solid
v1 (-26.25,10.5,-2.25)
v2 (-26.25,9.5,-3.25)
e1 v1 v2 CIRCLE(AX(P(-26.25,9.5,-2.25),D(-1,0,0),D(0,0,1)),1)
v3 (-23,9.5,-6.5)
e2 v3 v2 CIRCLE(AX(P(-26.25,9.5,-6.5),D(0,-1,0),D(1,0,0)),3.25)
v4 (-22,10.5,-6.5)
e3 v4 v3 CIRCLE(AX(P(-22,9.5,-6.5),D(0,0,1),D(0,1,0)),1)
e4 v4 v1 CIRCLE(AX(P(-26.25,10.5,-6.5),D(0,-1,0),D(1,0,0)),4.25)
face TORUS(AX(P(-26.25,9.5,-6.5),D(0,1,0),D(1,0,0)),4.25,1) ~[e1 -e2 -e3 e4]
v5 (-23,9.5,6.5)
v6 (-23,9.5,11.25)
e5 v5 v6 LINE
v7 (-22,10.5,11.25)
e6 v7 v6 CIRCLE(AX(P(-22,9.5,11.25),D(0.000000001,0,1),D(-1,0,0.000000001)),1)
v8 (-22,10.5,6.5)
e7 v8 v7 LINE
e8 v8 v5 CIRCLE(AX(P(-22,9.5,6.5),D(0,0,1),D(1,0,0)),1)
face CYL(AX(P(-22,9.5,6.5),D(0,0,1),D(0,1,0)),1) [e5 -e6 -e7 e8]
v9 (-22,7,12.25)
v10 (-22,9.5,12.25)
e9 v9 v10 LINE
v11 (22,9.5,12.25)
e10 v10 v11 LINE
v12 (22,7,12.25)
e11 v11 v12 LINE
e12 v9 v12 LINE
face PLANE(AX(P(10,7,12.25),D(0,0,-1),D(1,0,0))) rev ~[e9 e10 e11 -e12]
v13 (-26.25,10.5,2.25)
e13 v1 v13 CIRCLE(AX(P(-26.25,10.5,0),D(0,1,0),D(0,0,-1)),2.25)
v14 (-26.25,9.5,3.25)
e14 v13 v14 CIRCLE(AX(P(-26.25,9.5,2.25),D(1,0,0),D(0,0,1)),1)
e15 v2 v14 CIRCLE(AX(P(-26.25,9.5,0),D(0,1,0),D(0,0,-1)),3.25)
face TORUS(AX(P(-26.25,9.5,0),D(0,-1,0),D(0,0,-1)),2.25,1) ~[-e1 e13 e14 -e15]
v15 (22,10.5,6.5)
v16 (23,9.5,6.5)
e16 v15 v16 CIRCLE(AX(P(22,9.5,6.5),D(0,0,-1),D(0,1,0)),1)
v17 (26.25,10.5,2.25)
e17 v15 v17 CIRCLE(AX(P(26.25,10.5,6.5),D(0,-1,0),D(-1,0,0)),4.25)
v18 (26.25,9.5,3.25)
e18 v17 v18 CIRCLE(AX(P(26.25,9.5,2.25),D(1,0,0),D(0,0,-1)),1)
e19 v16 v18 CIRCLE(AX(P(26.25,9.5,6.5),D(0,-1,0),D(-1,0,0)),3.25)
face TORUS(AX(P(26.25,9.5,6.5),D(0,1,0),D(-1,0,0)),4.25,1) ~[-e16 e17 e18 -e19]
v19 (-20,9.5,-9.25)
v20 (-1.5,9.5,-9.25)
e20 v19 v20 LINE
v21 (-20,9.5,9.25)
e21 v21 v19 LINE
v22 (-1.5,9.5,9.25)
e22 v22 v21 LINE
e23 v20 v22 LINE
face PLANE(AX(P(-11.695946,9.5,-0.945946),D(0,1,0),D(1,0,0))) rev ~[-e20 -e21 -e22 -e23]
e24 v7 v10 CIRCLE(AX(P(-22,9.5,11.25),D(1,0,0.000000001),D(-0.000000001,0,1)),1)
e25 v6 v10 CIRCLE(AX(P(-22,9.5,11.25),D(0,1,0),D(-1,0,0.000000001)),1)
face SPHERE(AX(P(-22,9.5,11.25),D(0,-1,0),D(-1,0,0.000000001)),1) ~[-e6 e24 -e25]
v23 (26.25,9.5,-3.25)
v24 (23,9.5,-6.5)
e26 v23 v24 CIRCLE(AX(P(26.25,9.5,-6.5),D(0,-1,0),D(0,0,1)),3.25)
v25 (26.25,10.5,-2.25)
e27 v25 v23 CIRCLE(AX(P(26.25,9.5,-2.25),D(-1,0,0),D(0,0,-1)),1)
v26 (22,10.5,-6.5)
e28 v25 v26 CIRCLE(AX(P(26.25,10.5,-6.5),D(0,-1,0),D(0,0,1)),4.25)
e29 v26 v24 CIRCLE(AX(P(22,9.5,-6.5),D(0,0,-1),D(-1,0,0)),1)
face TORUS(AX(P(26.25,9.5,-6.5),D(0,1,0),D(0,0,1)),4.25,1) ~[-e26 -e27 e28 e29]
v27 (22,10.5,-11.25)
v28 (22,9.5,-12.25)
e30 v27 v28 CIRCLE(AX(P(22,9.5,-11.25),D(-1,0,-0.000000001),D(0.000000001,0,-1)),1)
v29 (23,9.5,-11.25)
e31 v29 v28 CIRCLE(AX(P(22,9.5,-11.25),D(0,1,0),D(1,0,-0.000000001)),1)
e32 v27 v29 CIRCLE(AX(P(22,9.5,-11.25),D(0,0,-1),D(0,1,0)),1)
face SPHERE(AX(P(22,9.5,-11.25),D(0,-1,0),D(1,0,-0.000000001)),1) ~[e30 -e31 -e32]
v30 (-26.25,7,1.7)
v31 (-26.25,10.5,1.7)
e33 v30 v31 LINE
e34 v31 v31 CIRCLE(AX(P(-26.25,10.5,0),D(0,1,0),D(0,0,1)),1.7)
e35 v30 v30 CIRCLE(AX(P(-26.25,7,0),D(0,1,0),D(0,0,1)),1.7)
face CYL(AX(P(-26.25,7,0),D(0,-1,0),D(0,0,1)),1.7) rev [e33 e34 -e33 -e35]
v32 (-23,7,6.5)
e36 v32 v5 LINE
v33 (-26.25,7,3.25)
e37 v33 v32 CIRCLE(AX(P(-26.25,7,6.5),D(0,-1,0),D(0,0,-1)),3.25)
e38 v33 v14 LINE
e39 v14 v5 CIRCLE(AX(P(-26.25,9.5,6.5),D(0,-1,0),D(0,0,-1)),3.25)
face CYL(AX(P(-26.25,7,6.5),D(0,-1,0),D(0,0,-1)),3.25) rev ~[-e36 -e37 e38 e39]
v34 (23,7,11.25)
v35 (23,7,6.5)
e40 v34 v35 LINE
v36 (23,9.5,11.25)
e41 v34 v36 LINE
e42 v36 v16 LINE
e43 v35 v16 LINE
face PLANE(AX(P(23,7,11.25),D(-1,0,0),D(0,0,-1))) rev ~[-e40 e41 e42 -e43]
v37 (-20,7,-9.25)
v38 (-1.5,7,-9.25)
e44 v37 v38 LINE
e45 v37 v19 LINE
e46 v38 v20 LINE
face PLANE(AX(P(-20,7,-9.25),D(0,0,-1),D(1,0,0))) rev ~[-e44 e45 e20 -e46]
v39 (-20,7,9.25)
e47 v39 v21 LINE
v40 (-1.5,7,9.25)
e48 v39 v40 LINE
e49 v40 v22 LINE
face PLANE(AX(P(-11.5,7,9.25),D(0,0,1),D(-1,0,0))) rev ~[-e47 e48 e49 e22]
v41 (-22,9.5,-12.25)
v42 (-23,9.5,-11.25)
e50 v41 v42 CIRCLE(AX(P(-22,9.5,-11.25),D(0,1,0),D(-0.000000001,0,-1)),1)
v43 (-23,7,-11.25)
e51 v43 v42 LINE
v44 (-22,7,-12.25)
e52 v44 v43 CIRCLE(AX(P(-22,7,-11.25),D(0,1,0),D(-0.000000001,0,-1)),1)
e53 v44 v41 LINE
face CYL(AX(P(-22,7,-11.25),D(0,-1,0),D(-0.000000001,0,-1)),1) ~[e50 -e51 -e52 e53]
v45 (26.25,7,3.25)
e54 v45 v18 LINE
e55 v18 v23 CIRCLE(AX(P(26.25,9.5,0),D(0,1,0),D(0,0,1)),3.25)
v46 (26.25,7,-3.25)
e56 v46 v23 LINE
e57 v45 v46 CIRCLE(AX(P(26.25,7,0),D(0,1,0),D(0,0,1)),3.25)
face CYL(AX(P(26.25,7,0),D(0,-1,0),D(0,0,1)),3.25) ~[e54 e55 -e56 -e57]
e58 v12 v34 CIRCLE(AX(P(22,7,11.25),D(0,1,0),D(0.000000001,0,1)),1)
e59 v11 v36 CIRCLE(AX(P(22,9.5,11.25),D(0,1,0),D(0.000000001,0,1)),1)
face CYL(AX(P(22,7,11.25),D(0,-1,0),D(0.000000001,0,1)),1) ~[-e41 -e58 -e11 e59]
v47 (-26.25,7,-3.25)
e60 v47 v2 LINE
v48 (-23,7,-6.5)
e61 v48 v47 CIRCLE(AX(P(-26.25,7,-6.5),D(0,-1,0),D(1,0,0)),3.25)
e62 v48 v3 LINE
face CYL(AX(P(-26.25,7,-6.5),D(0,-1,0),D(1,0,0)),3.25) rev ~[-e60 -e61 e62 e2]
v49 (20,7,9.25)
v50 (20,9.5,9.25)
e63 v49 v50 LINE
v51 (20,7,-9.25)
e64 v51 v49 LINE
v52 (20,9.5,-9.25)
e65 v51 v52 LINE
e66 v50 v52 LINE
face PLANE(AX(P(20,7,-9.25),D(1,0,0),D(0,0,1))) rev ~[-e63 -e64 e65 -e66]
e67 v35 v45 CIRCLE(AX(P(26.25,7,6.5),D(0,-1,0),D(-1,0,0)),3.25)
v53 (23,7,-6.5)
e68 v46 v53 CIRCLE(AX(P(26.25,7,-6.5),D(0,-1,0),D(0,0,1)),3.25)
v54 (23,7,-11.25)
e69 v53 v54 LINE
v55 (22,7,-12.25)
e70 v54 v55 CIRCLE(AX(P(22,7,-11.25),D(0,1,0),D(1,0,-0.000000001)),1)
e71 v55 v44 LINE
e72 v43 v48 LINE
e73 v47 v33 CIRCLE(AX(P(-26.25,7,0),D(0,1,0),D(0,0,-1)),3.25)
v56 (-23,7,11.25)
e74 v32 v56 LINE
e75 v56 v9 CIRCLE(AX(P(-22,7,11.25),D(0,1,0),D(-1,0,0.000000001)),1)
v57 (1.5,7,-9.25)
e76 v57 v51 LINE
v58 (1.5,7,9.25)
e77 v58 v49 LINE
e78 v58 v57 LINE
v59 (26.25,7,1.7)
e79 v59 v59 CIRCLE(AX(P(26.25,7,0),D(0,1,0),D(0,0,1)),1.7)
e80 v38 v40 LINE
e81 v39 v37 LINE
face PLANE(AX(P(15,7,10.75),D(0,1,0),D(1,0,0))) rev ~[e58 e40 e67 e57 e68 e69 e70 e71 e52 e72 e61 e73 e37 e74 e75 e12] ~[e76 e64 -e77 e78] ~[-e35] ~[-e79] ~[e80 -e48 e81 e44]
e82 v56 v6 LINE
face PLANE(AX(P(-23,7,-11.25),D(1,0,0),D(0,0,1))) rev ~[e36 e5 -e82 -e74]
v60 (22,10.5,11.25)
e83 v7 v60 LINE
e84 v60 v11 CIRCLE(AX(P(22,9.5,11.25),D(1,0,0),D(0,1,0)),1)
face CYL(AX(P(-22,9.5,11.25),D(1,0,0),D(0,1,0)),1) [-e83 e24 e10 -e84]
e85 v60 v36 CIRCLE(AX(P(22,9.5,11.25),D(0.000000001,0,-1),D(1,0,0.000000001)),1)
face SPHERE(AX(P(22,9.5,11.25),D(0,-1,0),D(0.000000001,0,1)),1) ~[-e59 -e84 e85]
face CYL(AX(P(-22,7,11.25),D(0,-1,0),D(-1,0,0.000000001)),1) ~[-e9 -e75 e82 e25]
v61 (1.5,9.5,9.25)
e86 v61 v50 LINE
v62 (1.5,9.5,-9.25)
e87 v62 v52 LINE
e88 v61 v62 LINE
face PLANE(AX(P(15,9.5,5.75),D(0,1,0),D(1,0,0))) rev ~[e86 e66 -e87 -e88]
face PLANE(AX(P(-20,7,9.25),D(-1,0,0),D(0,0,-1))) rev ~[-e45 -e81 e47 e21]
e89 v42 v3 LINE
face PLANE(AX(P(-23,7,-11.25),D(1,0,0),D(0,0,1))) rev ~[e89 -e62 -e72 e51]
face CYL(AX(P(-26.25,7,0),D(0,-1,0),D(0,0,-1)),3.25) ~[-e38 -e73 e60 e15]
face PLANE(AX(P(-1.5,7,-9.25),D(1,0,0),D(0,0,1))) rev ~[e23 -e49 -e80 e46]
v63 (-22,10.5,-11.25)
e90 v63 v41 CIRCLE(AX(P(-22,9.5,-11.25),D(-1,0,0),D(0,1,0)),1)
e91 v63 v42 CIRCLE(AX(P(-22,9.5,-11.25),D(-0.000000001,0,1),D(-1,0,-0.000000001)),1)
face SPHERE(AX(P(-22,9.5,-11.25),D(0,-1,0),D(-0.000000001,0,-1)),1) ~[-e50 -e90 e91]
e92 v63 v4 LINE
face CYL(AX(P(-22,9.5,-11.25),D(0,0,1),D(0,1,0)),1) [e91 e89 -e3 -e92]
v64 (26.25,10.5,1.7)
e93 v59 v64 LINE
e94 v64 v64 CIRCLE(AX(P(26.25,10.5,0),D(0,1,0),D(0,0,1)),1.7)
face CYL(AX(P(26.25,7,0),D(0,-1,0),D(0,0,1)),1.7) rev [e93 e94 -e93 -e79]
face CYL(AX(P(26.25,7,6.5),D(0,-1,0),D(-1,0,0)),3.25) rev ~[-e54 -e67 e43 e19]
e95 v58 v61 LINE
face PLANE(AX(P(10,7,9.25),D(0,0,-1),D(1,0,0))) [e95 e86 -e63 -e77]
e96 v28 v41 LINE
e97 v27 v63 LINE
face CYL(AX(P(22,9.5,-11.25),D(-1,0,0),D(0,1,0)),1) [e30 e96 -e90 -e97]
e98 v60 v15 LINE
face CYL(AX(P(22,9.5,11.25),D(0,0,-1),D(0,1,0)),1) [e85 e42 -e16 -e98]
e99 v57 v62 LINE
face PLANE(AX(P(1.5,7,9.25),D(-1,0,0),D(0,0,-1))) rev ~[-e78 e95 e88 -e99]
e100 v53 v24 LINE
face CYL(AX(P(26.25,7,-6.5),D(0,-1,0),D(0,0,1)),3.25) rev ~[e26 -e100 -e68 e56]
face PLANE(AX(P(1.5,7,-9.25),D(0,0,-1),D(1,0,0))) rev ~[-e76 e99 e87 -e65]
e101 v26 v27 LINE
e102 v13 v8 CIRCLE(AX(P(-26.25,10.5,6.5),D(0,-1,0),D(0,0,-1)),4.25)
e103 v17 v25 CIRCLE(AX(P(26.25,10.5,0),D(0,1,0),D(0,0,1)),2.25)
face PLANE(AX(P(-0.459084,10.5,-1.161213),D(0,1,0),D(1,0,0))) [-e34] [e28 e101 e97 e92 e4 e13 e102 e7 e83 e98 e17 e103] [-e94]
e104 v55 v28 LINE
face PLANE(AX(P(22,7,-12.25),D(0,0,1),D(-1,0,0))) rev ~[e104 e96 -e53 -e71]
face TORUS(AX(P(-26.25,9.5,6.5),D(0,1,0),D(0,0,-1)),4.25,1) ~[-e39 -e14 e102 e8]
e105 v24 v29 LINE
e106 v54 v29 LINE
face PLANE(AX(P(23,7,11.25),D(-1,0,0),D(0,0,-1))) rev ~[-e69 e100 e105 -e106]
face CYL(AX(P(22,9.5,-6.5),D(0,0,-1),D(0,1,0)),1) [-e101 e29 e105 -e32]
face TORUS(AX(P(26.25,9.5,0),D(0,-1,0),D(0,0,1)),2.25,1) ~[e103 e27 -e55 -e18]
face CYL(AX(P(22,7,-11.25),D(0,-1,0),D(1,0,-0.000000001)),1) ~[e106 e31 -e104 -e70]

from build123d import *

# Parameters (mm, degrees)
SKETCH_1_R      = 1.7
SKETCH_1_W      = 10
SKETCH_1_H      = 3
SKETCH_1_H_2    = 7
EXTRUDE_1_DEPTH = 1
EXTRUDE_START   = 1
SKETCH_1_3_R    = 1.7
EXTRUDE_2_DEPTH = 1
EXTRUDE_START_2 = 2
SKETCH_1_5_R    = 1.7
EXTRUDE_3_DEPTH = 3
EXTRUDE_START_3 = 7
SKETCH_1_7_R    = 1.7
SKETCH_1_7_W    = 10
SKETCH_1_7_H    = 3
EXTRUDE_4_DEPTH = 2.5
EXTRUDE_START_4 = 9.5
SKETCH_1_9_W    = 10
SKETCH_1_9_H    = 7
SKETCH_1_9_H_2  = 3
SKETCH_1_9_R    = 1.7
EXTRUDE_5_DEPTH = 1
FILLET_1_R      = 1


with BuildPart() as part:
    # Эскиз1 → Бобышка-Вытянуть1 (new body)
    # profile 1 of 9: a face of its own
    with BuildSketch(Plane(origin=(0, 0, 0), x_dir=(1, 0, 0), z_dir=(0, 1, 0))):
        with BuildLine():
            ThreePointArc((-26.25, -3.25), (-23.951902961, -4.201902961), (-23, -6.5))
            Line((-23, -6.5), (-23, 6.5))
            ThreePointArc((-23, 6.5), (-23.951902961, 4.201902961), (-26.25, 3.25))
            ThreePointArc((-26.25, 3.25), (-29.5, 0), (-26.25, -3.25))
        make_face()
        with Locations(Location((-26.25, 0, 0), (0, 0, 270))):
            Circle(SKETCH_1_R, mode=Mode.SUBTRACT)
    # profile 2 of 9: a face of its own
    with BuildSketch(Plane(origin=(0, 0, 0), x_dir=(1, 0, 0), z_dir=(0, 1, 0))):
        with BuildLine():
            Line((20, -12.25), (22, -12.25))
            ThreePointArc((22, -12.25), (22.707106781, -11.957106781), (23, -11.25))
            Line((23, -11.25), (23, -6.5))
            Line((23, -6.5), (23, 6.5))
            Line((23, 6.5), (23, 11.25))
            ThreePointArc((23, 11.25), (22.707106781, 11.957106781), (22, 12.25))
            Line((22, 12.25), (-22, 12.25))
            ThreePointArc((-22, 12.25), (-22.707106781, 11.957106781), (-23, 11.25))
            Line((-23, 11.25), (-23, 6.5))
            Line((-23, 6.5), (-23, -6.5))
            Line((-23, -6.5), (-23, -11.25))
            ThreePointArc((-23, -11.25), (-22.707106781, -11.957106781), (-22, -12.25))
            Line((-22, -12.25), (-11.5, -12.25))
            Line((-11.5, -12.25), (-11.5, -9.25))
            Line((-11.5, -9.25), (-20, -9.25))
            Line((-20, -9.25), (-20, 9.25))
            Line((-20, 9.25), (-1.5, 9.25))
            Line((-1.5, 9.25), (-1.5, -2.25))
            Line((-1.5, -2.25), (-1.5, -9.25))
            Line((-1.5, -9.25), (-1.5, -12.25))
            Line((-1.5, -12.25), (10, -12.25))
            Line((10, -12.25), (10, -9.25))
            Line((10, -9.25), (1.5, -9.25))
            Line((1.5, -9.25), (1.5, 9.25))
            Line((1.5, 9.25), (20, 9.25))
            Line((20, 9.25), (20, -2.25))
            Line((20, -2.25), (20, -9.25))
            Line((20, -9.25), (20, -12.25))
        make_face()
    # profile 3 of 9: a face of its own
    with BuildSketch(Plane(origin=(0, 0, 0), x_dir=(1, 0, 0), z_dir=(0, 1, 0))):
        with Locations((-6.5, -10.75)):
            Rectangle(SKETCH_1_W, SKETCH_1_H)
    # profile 4 of 9: a face of its own
    with BuildSketch(Plane(origin=(0, 0, 0), x_dir=(1, 0, 0), z_dir=(0, 1, 0))):
        with Locations((-6.5, -5.75)):
            Rectangle(SKETCH_1_W, SKETCH_1_H_2)
    # profile 5 of 9: a face of its own
    with BuildSketch(Plane(origin=(0, 0, 0), x_dir=(1, 0, 0), z_dir=(0, 1, 0))):
        Polygon((-20, -9.25), (-11.5, -9.25), (-11.5, -2.25), (-1.5, -2.25), (-1.5, 9.25), (-20, 9.25), align=None)
    # profile 6 of 9: a face of its own
    with BuildSketch(Plane(origin=(0, 0, 0), x_dir=(1, 0, 0), z_dir=(0, 1, 0))):
        Polygon((1.5, -9.25), (10, -9.25), (10, -2.25), (20, -2.25), (20, 9.25), (1.5, 9.25), align=None)
    # profile 7 of 9: a face of its own
    with BuildSketch(Plane(origin=(0, 0, 0), x_dir=(1, 0, 0), z_dir=(0, 1, 0))):
        with Locations((15, -10.75)):
            Rectangle(SKETCH_1_W, SKETCH_1_H)
    # profile 8 of 9: a face of its own
    with BuildSketch(Plane(origin=(0, 0, 0), x_dir=(1, 0, 0), z_dir=(0, 1, 0))):
        with Locations((15, -5.75)):
            Rectangle(SKETCH_1_W, SKETCH_1_H_2)
    # profile 9 of 9: a face of its own
    with BuildSketch(Plane(origin=(0, 0, 0), x_dir=(1, 0, 0), z_dir=(0, 1, 0))):
        with BuildLine():
            Line((23, 6.5), (23, -6.5))
            ThreePointArc((23, -6.5), (23.951902961, -4.201902961), (26.25, -3.25))
            ThreePointArc((26.25, -3.25), (29.5, 0), (26.25, 3.25))
            ThreePointArc((26.25, 3.25), (23.951902961, 4.201902961), (23, 6.5))
        make_face()
        with Locations(Location((26.25, 0, 0), (0, 0, 270))):
            Circle(SKETCH_1_R, mode=Mode.SUBTRACT)
    extrude(amount=EXTRUDE_1_DEPTH)

    # Эскиз1<3> → Бобышка-Вытянуть2 (add)
    # profile 1 of 5: a face of its own
    with BuildSketch(Plane(origin=(0, 0, 0), x_dir=(1, 0, 0), z_dir=(0, 1, 0)).offset(EXTRUDE_START)):
        with BuildLine():
            Line((20, -12.25), (22, -12.25))
            ThreePointArc((22, -12.25), (22.707106781, -11.957106781), (23, -11.25))
            Line((23, -11.25), (23, -6.5))
            Line((23, -6.5), (23, 6.5))
            Line((23, 6.5), (23, 11.25))
            ThreePointArc((23, 11.25), (22.707106781, 11.957106781), (22, 12.25))
            Line((22, 12.25), (-22, 12.25))
            ThreePointArc((-22, 12.25), (-22.707106781, 11.957106781), (-23, 11.25))
            Line((-23, 11.25), (-23, 6.5))
            Line((-23, 6.5), (-23, -6.5))
            Line((-23, -6.5), (-23, -11.25))
            ThreePointArc((-23, -11.25), (-22.707106781, -11.957106781), (-22, -12.25))
            Line((-22, -12.25), (-11.5, -12.25))
            Line((-11.5, -12.25), (-11.5, -9.25))
            Line((-11.5, -9.25), (-20, -9.25))
            Line((-20, -9.25), (-20, 9.25))
            Line((-20, 9.25), (-1.5, 9.25))
            Line((-1.5, 9.25), (-1.5, -2.25))
            Line((-1.5, -2.25), (-1.5, -9.25))
            Line((-1.5, -9.25), (-1.5, -12.25))
            Line((-1.5, -12.25), (10, -12.25))
            Line((10, -12.25), (10, -9.25))
            Line((10, -9.25), (1.5, -9.25))
            Line((1.5, -9.25), (1.5, 9.25))
            Line((1.5, 9.25), (20, 9.25))
            Line((20, 9.25), (20, -2.25))
            Line((20, -2.25), (20, -9.25))
            Line((20, -9.25), (20, -12.25))
        make_face()
    # profile 2 of 5: a face of its own
    with BuildSketch(Plane(origin=(0, 0, 0), x_dir=(1, 0, 0), z_dir=(0, 1, 0)).offset(EXTRUDE_START)):
        Polygon((-20, -9.25), (-11.5, -9.25), (-11.5, -2.25), (-1.5, -2.25), (-1.5, 9.25), (-20, 9.25), align=None)
    # profile 3 of 5: a face of its own
    with BuildSketch(Plane(origin=(0, 0, 0), x_dir=(1, 0, 0), z_dir=(0, 1, 0)).offset(EXTRUDE_START)):
        with BuildLine():
            ThreePointArc((-26.25, -3.25), (-23.951902961, -4.201902961), (-23, -6.5))
            Line((-23, -6.5), (-23, 6.5))
            ThreePointArc((-23, 6.5), (-23.951902961, 4.201902961), (-26.25, 3.25))
            ThreePointArc((-26.25, 3.25), (-29.5, 0), (-26.25, -3.25))
        make_face()
        with Locations(Location((-26.25, 0, 0), (0, 0, 270))):
            Circle(SKETCH_1_3_R, mode=Mode.SUBTRACT)
    # profile 4 of 5: a face of its own
    with BuildSketch(Plane(origin=(0, 0, 0), x_dir=(1, 0, 0), z_dir=(0, 1, 0)).offset(EXTRUDE_START)):
        Polygon((1.5, -9.25), (10, -9.25), (10, -2.25), (20, -2.25), (20, 9.25), (1.5, 9.25), align=None)
    # profile 5 of 5: a face of its own
    with BuildSketch(Plane(origin=(0, 0, 0), x_dir=(1, 0, 0), z_dir=(0, 1, 0)).offset(EXTRUDE_START)):
        with BuildLine():
            Line((23, 6.5), (23, -6.5))
            ThreePointArc((23, -6.5), (23.951902961, -4.201902961), (26.25, -3.25))
            ThreePointArc((26.25, -3.25), (29.5, 0), (26.25, 3.25))
            ThreePointArc((26.25, 3.25), (23.951902961, 4.201902961), (23, 6.5))
        make_face()
        with Locations(Location((26.25, 0, 0), (0, 0, 270))):
            Circle(SKETCH_1_3_R, mode=Mode.SUBTRACT)
    extrude(amount=EXTRUDE_2_DEPTH)

    # Эскиз1<5> → Бобышка-Вытянуть3 (add)
    # profile 1 of 3: a face of its own
    with BuildSketch(Plane(origin=(0, 0, 0), x_dir=(1, 0, 0), z_dir=(0, 1, 0)).offset(EXTRUDE_START_2)):
        with BuildLine():
            Line((20, -12.25), (22, -12.25))
            ThreePointArc((22, -12.25), (22.707106781, -11.957106781), (23, -11.25))
            Line((23, -11.25), (23, -6.5))
            Line((23, -6.5), (23, 6.5))
            Line((23, 6.5), (23, 11.25))
            ThreePointArc((23, 11.25), (22.707106781, 11.957106781), (22, 12.25))
            Line((22, 12.25), (-22, 12.25))
            ThreePointArc((-22, 12.25), (-22.707106781, 11.957106781), (-23, 11.25))
            Line((-23, 11.25), (-23, 6.5))
            Line((-23, 6.5), (-23, -6.5))
            Line((-23, -6.5), (-23, -11.25))
            ThreePointArc((-23, -11.25), (-22.707106781, -11.957106781), (-22, -12.25))
            Line((-22, -12.25), (-11.5, -12.25))
            Line((-11.5, -12.25), (-11.5, -9.25))
            Line((-11.5, -9.25), (-20, -9.25))
            Line((-20, -9.25), (-20, 9.25))
            Line((-20, 9.25), (-1.5, 9.25))
            Line((-1.5, 9.25), (-1.5, -2.25))
            Line((-1.5, -2.25), (-1.5, -9.25))
            Line((-1.5, -9.25), (-1.5, -12.25))
            Line((-1.5, -12.25), (10, -12.25))
            Line((10, -12.25), (10, -9.25))
            Line((10, -9.25), (1.5, -9.25))
            Line((1.5, -9.25), (1.5, 9.25))
            Line((1.5, 9.25), (20, 9.25))
            Line((20, 9.25), (20, -2.25))
            Line((20, -2.25), (20, -9.25))
            Line((20, -9.25), (20, -12.25))
        make_face()
    # profile 2 of 3: a face of its own
    with BuildSketch(Plane(origin=(0, 0, 0), x_dir=(1, 0, 0), z_dir=(0, 1, 0)).offset(EXTRUDE_START_2)):
        with BuildLine():
            ThreePointArc((-26.25, -3.25), (-23.951902961, -4.201902961), (-23, -6.5))
            Line((-23, -6.5), (-23, 6.5))
            ThreePointArc((-23, 6.5), (-23.951902961, 4.201902961), (-26.25, 3.25))
            ThreePointArc((-26.25, 3.25), (-29.5, 0), (-26.25, -3.25))
        make_face()
        with Locations(Location((-26.25, 0, 0), (0, 0, 270))):
            Circle(SKETCH_1_5_R, mode=Mode.SUBTRACT)
    # profile 3 of 3: a face of its own
    with BuildSketch(Plane(origin=(0, 0, 0), x_dir=(1, 0, 0), z_dir=(0, 1, 0)).offset(EXTRUDE_START_2)):
        with BuildLine():
            Line((23, 6.5), (23, -6.5))
            ThreePointArc((23, -6.5), (23.951902961, -4.201902961), (26.25, -3.25))
            ThreePointArc((26.25, -3.25), (29.5, 0), (26.25, 3.25))
            ThreePointArc((26.25, 3.25), (23.951902961, 4.201902961), (23, 6.5))
        make_face()
        with Locations(Location((26.25, 0, 0), (0, 0, 270))):
            Circle(SKETCH_1_5_R, mode=Mode.SUBTRACT)
    extrude(amount=EXTRUDE_3_DEPTH)


with BuildPart() as body_2:
    # Эскиз1<7> → Бобышка-Вытянуть4 (new body)
    # profile 1 of 5: a face of its own
    with BuildSketch(Plane(origin=(0, 0, 0), x_dir=(1, 0, 0), z_dir=(0, 1, 0)).offset(EXTRUDE_START_3)):
        with BuildLine():
            Line((20, -12.25), (22, -12.25))
            ThreePointArc((22, -12.25), (22.707106781, -11.957106781), (23, -11.25))
            Line((23, -11.25), (23, -6.5))
            Line((23, -6.5), (23, 6.5))
            Line((23, 6.5), (23, 11.25))
            ThreePointArc((23, 11.25), (22.707106781, 11.957106781), (22, 12.25))
            Line((22, 12.25), (-22, 12.25))
            ThreePointArc((-22, 12.25), (-22.707106781, 11.957106781), (-23, 11.25))
            Line((-23, 11.25), (-23, 6.5))
            Line((-23, 6.5), (-23, -6.5))
            Line((-23, -6.5), (-23, -11.25))
            ThreePointArc((-23, -11.25), (-22.707106781, -11.957106781), (-22, -12.25))
            Line((-22, -12.25), (-11.5, -12.25))
            Line((-11.5, -12.25), (-11.5, -9.25))
            Line((-11.5, -9.25), (-20, -9.25))
            Line((-20, -9.25), (-20, 9.25))
            Line((-20, 9.25), (-1.5, 9.25))
            Line((-1.5, 9.25), (-1.5, -2.25))
            Line((-1.5, -2.25), (-1.5, -9.25))
            Line((-1.5, -9.25), (-1.5, -12.25))
            Line((-1.5, -12.25), (10, -12.25))
            Line((10, -12.25), (10, -9.25))
            Line((10, -9.25), (1.5, -9.25))
            Line((1.5, -9.25), (1.5, 9.25))
            Line((1.5, 9.25), (20, 9.25))
            Line((20, 9.25), (20, -2.25))
            Line((20, -2.25), (20, -9.25))
            Line((20, -9.25), (20, -12.25))
        make_face()
    # profile 2 of 5: a face of its own
    with BuildSketch(Plane(origin=(0, 0, 0), x_dir=(1, 0, 0), z_dir=(0, 1, 0)).offset(EXTRUDE_START_3)):
        with BuildLine():
            ThreePointArc((-26.25, -3.25), (-23.951902961, -4.201902961), (-23, -6.5))
            Line((-23, -6.5), (-23, 6.5))
            ThreePointArc((-23, 6.5), (-23.951902961, 4.201902961), (-26.25, 3.25))
            ThreePointArc((-26.25, 3.25), (-29.5, 0), (-26.25, -3.25))
        make_face()
        with Locations(Location((-26.25, 0, 0), (0, 0, 270))):
            Circle(SKETCH_1_7_R, mode=Mode.SUBTRACT)
    # profile 3 of 5: a face of its own
    with BuildSketch(Plane(origin=(0, 0, 0), x_dir=(1, 0, 0), z_dir=(0, 1, 0)).offset(EXTRUDE_START_3)):
        with BuildLine():
            Line((23, 6.5), (23, -6.5))
            ThreePointArc((23, -6.5), (23.951902961, -4.201902961), (26.25, -3.25))
            ThreePointArc((26.25, -3.25), (29.5, 0), (26.25, 3.25))
            ThreePointArc((26.25, 3.25), (23.951902961, 4.201902961), (23, 6.5))
        make_face()
        with Locations(Location((26.25, 0, 0), (0, 0, 270))):
            Circle(SKETCH_1_7_R, mode=Mode.SUBTRACT)
    # profile 4 of 5: a face of its own
    with BuildSketch(Plane(origin=(0, 0, 0), x_dir=(1, 0, 0), z_dir=(0, 1, 0)).offset(EXTRUDE_START_3)):
        with Locations((-6.5, -10.75)):
            Rectangle(SKETCH_1_7_W, SKETCH_1_7_H)
    # profile 5 of 5: a face of its own
    with BuildSketch(Plane(origin=(0, 0, 0), x_dir=(1, 0, 0), z_dir=(0, 1, 0)).offset(EXTRUDE_START_3)):
        with Locations((15, -10.75)):
            Rectangle(SKETCH_1_7_W, SKETCH_1_7_H)
    extrude(amount=EXTRUDE_4_DEPTH)

    # Эскиз1<9> → Бобышка-Вытянуть5 (add)
    # profile 1 of 9: a face of its own
    with BuildSketch(Plane(origin=(0, 0, 0), x_dir=(1, 0, 0), z_dir=(0, 1, 0)).offset(EXTRUDE_START_4)):
        Polygon((-20, -9.25), (-11.5, -9.25), (-11.5, -2.25), (-1.5, -2.25), (-1.5, 9.25), (-20, 9.25), align=None)
    # profile 2 of 9: a face of its own
    with BuildSketch(Plane(origin=(0, 0, 0), x_dir=(1, 0, 0), z_dir=(0, 1, 0)).offset(EXTRUDE_START_4)):
        Polygon((1.5, -9.25), (10, -9.25), (10, -2.25), (20, -2.25), (20, 9.25), (1.5, 9.25), align=None)
    # profile 3 of 9: a face of its own
    with BuildSketch(Plane(origin=(0, 0, 0), x_dir=(1, 0, 0), z_dir=(0, 1, 0)).offset(EXTRUDE_START_4)):
        with Locations((15, -5.75)):
            Rectangle(SKETCH_1_9_W, SKETCH_1_9_H)
    # profile 4 of 9: a face of its own
    with BuildSketch(Plane(origin=(0, 0, 0), x_dir=(1, 0, 0), z_dir=(0, 1, 0)).offset(EXTRUDE_START_4)):
        with Locations((15, -10.75)):
            Rectangle(SKETCH_1_9_W, SKETCH_1_9_H_2)
    # profile 5 of 9: a face of its own
    with BuildSketch(Plane(origin=(0, 0, 0), x_dir=(1, 0, 0), z_dir=(0, 1, 0)).offset(EXTRUDE_START_4)):
        with Locations((-6.5, -10.75)):
            Rectangle(SKETCH_1_9_W, SKETCH_1_9_H_2)
    # profile 6 of 9: a face of its own
    with BuildSketch(Plane(origin=(0, 0, 0), x_dir=(1, 0, 0), z_dir=(0, 1, 0)).offset(EXTRUDE_START_4)):
        with Locations((-6.5, -5.75)):
            Rectangle(SKETCH_1_9_W, SKETCH_1_9_H)
    # profile 7 of 9: a face of its own
    with BuildSketch(Plane(origin=(0, 0, 0), x_dir=(1, 0, 0), z_dir=(0, 1, 0)).offset(EXTRUDE_START_4)):
        with BuildLine():
            Line((20, -12.25), (22, -12.25))
            ThreePointArc((22, -12.25), (22.707106781, -11.957106781), (23, -11.25))
            Line((23, -11.25), (23, -6.5))
            Line((23, -6.5), (23, 6.5))
            Line((23, 6.5), (23, 11.25))
            ThreePointArc((23, 11.25), (22.707106781, 11.957106781), (22, 12.25))
            Line((22, 12.25), (-22, 12.25))
            ThreePointArc((-22, 12.25), (-22.707106781, 11.957106781), (-23, 11.25))
            Line((-23, 11.25), (-23, 6.5))
            Line((-23, 6.5), (-23, -6.5))
            Line((-23, -6.5), (-23, -11.25))
            ThreePointArc((-23, -11.25), (-22.707106781, -11.957106781), (-22, -12.25))
            Line((-22, -12.25), (-11.5, -12.25))
            Line((-11.5, -12.25), (-11.5, -9.25))
            Line((-11.5, -9.25), (-20, -9.25))
            Line((-20, -9.25), (-20, 9.25))
            Line((-20, 9.25), (-1.5, 9.25))
            Line((-1.5, 9.25), (-1.5, -2.25))
            Line((-1.5, -2.25), (-1.5, -9.25))
            Line((-1.5, -9.25), (-1.5, -12.25))
            Line((-1.5, -12.25), (10, -12.25))
            Line((10, -12.25), (10, -9.25))
            Line((10, -9.25), (1.5, -9.25))
            Line((1.5, -9.25), (1.5, 9.25))
            Line((1.5, 9.25), (20, 9.25))
            Line((20, 9.25), (20, -2.25))
            Line((20, -2.25), (20, -9.25))
            Line((20, -9.25), (20, -12.25))
        make_face()
    # profile 8 of 9: a face of its own
    with BuildSketch(Plane(origin=(0, 0, 0), x_dir=(1, 0, 0), z_dir=(0, 1, 0)).offset(EXTRUDE_START_4)):
        with BuildLine():
            Line((23, 6.5), (23, -6.5))
            ThreePointArc((23, -6.5), (23.951902961, -4.201902961), (26.25, -3.25))
            ThreePointArc((26.25, -3.25), (29.5, 0), (26.25, 3.25))
            ThreePointArc((26.25, 3.25), (23.951902961, 4.201902961), (23, 6.5))
        make_face()
        with Locations(Location((26.25, 0, 0), (0, 0, 270))):
            Circle(SKETCH_1_9_R, mode=Mode.SUBTRACT)
    # profile 9 of 9: a face of its own
    with BuildSketch(Plane(origin=(0, 0, 0), x_dir=(1, 0, 0), z_dir=(0, 1, 0)).offset(EXTRUDE_START_4)):
        with BuildLine():
            ThreePointArc((-26.25, -3.25), (-23.951902961, -4.201902961), (-23, -6.5))
            Line((-23, -6.5), (-23, 6.5))
            ThreePointArc((-23, 6.5), (-23.951902961, 4.201902961), (-26.25, 3.25))
            ThreePointArc((-26.25, 3.25), (-29.5, 0), (-26.25, -3.25))
        make_face()
        with Locations(Location((-26.25, 0, 0), (0, 0, 270))):
            Circle(SKETCH_1_9_R, mode=Mode.SUBTRACT)
    extrude(amount=EXTRUDE_5_DEPTH)

    # Скругление1
    fillet_1_edges = [body_2.edges().sort_by_distance(p)[0] for p in [
        (-22.707106781, 10.5, 11.957106781),
        (-23, 10.5, 8.875),
        (-23.951902961, 10.5, 4.201902961),
        (-29.5, 10.5, 0),
        (-23.951902961, 10.5, -4.201902961),
        (-22.707106781, 10.5, -11.957106781),
        (0, 10.5, -12.25),
        (22.707106781, 10.5, -11.957106781),
        (23, 10.5, -8.875),
        (23.951902961, 10.5, -4.201902961),
        (29.5, 10.5, 0),
        (23.951902961, 10.5, 4.201902961),
        (23, 10.5, 8.875),
        (22.707106781, 10.5, 11.957106781),
        (0, 10.5, 12.25),
    ]]
    fillet(fillet_1_edges, radius=FILLET_1_R)


solid = body_2.part
